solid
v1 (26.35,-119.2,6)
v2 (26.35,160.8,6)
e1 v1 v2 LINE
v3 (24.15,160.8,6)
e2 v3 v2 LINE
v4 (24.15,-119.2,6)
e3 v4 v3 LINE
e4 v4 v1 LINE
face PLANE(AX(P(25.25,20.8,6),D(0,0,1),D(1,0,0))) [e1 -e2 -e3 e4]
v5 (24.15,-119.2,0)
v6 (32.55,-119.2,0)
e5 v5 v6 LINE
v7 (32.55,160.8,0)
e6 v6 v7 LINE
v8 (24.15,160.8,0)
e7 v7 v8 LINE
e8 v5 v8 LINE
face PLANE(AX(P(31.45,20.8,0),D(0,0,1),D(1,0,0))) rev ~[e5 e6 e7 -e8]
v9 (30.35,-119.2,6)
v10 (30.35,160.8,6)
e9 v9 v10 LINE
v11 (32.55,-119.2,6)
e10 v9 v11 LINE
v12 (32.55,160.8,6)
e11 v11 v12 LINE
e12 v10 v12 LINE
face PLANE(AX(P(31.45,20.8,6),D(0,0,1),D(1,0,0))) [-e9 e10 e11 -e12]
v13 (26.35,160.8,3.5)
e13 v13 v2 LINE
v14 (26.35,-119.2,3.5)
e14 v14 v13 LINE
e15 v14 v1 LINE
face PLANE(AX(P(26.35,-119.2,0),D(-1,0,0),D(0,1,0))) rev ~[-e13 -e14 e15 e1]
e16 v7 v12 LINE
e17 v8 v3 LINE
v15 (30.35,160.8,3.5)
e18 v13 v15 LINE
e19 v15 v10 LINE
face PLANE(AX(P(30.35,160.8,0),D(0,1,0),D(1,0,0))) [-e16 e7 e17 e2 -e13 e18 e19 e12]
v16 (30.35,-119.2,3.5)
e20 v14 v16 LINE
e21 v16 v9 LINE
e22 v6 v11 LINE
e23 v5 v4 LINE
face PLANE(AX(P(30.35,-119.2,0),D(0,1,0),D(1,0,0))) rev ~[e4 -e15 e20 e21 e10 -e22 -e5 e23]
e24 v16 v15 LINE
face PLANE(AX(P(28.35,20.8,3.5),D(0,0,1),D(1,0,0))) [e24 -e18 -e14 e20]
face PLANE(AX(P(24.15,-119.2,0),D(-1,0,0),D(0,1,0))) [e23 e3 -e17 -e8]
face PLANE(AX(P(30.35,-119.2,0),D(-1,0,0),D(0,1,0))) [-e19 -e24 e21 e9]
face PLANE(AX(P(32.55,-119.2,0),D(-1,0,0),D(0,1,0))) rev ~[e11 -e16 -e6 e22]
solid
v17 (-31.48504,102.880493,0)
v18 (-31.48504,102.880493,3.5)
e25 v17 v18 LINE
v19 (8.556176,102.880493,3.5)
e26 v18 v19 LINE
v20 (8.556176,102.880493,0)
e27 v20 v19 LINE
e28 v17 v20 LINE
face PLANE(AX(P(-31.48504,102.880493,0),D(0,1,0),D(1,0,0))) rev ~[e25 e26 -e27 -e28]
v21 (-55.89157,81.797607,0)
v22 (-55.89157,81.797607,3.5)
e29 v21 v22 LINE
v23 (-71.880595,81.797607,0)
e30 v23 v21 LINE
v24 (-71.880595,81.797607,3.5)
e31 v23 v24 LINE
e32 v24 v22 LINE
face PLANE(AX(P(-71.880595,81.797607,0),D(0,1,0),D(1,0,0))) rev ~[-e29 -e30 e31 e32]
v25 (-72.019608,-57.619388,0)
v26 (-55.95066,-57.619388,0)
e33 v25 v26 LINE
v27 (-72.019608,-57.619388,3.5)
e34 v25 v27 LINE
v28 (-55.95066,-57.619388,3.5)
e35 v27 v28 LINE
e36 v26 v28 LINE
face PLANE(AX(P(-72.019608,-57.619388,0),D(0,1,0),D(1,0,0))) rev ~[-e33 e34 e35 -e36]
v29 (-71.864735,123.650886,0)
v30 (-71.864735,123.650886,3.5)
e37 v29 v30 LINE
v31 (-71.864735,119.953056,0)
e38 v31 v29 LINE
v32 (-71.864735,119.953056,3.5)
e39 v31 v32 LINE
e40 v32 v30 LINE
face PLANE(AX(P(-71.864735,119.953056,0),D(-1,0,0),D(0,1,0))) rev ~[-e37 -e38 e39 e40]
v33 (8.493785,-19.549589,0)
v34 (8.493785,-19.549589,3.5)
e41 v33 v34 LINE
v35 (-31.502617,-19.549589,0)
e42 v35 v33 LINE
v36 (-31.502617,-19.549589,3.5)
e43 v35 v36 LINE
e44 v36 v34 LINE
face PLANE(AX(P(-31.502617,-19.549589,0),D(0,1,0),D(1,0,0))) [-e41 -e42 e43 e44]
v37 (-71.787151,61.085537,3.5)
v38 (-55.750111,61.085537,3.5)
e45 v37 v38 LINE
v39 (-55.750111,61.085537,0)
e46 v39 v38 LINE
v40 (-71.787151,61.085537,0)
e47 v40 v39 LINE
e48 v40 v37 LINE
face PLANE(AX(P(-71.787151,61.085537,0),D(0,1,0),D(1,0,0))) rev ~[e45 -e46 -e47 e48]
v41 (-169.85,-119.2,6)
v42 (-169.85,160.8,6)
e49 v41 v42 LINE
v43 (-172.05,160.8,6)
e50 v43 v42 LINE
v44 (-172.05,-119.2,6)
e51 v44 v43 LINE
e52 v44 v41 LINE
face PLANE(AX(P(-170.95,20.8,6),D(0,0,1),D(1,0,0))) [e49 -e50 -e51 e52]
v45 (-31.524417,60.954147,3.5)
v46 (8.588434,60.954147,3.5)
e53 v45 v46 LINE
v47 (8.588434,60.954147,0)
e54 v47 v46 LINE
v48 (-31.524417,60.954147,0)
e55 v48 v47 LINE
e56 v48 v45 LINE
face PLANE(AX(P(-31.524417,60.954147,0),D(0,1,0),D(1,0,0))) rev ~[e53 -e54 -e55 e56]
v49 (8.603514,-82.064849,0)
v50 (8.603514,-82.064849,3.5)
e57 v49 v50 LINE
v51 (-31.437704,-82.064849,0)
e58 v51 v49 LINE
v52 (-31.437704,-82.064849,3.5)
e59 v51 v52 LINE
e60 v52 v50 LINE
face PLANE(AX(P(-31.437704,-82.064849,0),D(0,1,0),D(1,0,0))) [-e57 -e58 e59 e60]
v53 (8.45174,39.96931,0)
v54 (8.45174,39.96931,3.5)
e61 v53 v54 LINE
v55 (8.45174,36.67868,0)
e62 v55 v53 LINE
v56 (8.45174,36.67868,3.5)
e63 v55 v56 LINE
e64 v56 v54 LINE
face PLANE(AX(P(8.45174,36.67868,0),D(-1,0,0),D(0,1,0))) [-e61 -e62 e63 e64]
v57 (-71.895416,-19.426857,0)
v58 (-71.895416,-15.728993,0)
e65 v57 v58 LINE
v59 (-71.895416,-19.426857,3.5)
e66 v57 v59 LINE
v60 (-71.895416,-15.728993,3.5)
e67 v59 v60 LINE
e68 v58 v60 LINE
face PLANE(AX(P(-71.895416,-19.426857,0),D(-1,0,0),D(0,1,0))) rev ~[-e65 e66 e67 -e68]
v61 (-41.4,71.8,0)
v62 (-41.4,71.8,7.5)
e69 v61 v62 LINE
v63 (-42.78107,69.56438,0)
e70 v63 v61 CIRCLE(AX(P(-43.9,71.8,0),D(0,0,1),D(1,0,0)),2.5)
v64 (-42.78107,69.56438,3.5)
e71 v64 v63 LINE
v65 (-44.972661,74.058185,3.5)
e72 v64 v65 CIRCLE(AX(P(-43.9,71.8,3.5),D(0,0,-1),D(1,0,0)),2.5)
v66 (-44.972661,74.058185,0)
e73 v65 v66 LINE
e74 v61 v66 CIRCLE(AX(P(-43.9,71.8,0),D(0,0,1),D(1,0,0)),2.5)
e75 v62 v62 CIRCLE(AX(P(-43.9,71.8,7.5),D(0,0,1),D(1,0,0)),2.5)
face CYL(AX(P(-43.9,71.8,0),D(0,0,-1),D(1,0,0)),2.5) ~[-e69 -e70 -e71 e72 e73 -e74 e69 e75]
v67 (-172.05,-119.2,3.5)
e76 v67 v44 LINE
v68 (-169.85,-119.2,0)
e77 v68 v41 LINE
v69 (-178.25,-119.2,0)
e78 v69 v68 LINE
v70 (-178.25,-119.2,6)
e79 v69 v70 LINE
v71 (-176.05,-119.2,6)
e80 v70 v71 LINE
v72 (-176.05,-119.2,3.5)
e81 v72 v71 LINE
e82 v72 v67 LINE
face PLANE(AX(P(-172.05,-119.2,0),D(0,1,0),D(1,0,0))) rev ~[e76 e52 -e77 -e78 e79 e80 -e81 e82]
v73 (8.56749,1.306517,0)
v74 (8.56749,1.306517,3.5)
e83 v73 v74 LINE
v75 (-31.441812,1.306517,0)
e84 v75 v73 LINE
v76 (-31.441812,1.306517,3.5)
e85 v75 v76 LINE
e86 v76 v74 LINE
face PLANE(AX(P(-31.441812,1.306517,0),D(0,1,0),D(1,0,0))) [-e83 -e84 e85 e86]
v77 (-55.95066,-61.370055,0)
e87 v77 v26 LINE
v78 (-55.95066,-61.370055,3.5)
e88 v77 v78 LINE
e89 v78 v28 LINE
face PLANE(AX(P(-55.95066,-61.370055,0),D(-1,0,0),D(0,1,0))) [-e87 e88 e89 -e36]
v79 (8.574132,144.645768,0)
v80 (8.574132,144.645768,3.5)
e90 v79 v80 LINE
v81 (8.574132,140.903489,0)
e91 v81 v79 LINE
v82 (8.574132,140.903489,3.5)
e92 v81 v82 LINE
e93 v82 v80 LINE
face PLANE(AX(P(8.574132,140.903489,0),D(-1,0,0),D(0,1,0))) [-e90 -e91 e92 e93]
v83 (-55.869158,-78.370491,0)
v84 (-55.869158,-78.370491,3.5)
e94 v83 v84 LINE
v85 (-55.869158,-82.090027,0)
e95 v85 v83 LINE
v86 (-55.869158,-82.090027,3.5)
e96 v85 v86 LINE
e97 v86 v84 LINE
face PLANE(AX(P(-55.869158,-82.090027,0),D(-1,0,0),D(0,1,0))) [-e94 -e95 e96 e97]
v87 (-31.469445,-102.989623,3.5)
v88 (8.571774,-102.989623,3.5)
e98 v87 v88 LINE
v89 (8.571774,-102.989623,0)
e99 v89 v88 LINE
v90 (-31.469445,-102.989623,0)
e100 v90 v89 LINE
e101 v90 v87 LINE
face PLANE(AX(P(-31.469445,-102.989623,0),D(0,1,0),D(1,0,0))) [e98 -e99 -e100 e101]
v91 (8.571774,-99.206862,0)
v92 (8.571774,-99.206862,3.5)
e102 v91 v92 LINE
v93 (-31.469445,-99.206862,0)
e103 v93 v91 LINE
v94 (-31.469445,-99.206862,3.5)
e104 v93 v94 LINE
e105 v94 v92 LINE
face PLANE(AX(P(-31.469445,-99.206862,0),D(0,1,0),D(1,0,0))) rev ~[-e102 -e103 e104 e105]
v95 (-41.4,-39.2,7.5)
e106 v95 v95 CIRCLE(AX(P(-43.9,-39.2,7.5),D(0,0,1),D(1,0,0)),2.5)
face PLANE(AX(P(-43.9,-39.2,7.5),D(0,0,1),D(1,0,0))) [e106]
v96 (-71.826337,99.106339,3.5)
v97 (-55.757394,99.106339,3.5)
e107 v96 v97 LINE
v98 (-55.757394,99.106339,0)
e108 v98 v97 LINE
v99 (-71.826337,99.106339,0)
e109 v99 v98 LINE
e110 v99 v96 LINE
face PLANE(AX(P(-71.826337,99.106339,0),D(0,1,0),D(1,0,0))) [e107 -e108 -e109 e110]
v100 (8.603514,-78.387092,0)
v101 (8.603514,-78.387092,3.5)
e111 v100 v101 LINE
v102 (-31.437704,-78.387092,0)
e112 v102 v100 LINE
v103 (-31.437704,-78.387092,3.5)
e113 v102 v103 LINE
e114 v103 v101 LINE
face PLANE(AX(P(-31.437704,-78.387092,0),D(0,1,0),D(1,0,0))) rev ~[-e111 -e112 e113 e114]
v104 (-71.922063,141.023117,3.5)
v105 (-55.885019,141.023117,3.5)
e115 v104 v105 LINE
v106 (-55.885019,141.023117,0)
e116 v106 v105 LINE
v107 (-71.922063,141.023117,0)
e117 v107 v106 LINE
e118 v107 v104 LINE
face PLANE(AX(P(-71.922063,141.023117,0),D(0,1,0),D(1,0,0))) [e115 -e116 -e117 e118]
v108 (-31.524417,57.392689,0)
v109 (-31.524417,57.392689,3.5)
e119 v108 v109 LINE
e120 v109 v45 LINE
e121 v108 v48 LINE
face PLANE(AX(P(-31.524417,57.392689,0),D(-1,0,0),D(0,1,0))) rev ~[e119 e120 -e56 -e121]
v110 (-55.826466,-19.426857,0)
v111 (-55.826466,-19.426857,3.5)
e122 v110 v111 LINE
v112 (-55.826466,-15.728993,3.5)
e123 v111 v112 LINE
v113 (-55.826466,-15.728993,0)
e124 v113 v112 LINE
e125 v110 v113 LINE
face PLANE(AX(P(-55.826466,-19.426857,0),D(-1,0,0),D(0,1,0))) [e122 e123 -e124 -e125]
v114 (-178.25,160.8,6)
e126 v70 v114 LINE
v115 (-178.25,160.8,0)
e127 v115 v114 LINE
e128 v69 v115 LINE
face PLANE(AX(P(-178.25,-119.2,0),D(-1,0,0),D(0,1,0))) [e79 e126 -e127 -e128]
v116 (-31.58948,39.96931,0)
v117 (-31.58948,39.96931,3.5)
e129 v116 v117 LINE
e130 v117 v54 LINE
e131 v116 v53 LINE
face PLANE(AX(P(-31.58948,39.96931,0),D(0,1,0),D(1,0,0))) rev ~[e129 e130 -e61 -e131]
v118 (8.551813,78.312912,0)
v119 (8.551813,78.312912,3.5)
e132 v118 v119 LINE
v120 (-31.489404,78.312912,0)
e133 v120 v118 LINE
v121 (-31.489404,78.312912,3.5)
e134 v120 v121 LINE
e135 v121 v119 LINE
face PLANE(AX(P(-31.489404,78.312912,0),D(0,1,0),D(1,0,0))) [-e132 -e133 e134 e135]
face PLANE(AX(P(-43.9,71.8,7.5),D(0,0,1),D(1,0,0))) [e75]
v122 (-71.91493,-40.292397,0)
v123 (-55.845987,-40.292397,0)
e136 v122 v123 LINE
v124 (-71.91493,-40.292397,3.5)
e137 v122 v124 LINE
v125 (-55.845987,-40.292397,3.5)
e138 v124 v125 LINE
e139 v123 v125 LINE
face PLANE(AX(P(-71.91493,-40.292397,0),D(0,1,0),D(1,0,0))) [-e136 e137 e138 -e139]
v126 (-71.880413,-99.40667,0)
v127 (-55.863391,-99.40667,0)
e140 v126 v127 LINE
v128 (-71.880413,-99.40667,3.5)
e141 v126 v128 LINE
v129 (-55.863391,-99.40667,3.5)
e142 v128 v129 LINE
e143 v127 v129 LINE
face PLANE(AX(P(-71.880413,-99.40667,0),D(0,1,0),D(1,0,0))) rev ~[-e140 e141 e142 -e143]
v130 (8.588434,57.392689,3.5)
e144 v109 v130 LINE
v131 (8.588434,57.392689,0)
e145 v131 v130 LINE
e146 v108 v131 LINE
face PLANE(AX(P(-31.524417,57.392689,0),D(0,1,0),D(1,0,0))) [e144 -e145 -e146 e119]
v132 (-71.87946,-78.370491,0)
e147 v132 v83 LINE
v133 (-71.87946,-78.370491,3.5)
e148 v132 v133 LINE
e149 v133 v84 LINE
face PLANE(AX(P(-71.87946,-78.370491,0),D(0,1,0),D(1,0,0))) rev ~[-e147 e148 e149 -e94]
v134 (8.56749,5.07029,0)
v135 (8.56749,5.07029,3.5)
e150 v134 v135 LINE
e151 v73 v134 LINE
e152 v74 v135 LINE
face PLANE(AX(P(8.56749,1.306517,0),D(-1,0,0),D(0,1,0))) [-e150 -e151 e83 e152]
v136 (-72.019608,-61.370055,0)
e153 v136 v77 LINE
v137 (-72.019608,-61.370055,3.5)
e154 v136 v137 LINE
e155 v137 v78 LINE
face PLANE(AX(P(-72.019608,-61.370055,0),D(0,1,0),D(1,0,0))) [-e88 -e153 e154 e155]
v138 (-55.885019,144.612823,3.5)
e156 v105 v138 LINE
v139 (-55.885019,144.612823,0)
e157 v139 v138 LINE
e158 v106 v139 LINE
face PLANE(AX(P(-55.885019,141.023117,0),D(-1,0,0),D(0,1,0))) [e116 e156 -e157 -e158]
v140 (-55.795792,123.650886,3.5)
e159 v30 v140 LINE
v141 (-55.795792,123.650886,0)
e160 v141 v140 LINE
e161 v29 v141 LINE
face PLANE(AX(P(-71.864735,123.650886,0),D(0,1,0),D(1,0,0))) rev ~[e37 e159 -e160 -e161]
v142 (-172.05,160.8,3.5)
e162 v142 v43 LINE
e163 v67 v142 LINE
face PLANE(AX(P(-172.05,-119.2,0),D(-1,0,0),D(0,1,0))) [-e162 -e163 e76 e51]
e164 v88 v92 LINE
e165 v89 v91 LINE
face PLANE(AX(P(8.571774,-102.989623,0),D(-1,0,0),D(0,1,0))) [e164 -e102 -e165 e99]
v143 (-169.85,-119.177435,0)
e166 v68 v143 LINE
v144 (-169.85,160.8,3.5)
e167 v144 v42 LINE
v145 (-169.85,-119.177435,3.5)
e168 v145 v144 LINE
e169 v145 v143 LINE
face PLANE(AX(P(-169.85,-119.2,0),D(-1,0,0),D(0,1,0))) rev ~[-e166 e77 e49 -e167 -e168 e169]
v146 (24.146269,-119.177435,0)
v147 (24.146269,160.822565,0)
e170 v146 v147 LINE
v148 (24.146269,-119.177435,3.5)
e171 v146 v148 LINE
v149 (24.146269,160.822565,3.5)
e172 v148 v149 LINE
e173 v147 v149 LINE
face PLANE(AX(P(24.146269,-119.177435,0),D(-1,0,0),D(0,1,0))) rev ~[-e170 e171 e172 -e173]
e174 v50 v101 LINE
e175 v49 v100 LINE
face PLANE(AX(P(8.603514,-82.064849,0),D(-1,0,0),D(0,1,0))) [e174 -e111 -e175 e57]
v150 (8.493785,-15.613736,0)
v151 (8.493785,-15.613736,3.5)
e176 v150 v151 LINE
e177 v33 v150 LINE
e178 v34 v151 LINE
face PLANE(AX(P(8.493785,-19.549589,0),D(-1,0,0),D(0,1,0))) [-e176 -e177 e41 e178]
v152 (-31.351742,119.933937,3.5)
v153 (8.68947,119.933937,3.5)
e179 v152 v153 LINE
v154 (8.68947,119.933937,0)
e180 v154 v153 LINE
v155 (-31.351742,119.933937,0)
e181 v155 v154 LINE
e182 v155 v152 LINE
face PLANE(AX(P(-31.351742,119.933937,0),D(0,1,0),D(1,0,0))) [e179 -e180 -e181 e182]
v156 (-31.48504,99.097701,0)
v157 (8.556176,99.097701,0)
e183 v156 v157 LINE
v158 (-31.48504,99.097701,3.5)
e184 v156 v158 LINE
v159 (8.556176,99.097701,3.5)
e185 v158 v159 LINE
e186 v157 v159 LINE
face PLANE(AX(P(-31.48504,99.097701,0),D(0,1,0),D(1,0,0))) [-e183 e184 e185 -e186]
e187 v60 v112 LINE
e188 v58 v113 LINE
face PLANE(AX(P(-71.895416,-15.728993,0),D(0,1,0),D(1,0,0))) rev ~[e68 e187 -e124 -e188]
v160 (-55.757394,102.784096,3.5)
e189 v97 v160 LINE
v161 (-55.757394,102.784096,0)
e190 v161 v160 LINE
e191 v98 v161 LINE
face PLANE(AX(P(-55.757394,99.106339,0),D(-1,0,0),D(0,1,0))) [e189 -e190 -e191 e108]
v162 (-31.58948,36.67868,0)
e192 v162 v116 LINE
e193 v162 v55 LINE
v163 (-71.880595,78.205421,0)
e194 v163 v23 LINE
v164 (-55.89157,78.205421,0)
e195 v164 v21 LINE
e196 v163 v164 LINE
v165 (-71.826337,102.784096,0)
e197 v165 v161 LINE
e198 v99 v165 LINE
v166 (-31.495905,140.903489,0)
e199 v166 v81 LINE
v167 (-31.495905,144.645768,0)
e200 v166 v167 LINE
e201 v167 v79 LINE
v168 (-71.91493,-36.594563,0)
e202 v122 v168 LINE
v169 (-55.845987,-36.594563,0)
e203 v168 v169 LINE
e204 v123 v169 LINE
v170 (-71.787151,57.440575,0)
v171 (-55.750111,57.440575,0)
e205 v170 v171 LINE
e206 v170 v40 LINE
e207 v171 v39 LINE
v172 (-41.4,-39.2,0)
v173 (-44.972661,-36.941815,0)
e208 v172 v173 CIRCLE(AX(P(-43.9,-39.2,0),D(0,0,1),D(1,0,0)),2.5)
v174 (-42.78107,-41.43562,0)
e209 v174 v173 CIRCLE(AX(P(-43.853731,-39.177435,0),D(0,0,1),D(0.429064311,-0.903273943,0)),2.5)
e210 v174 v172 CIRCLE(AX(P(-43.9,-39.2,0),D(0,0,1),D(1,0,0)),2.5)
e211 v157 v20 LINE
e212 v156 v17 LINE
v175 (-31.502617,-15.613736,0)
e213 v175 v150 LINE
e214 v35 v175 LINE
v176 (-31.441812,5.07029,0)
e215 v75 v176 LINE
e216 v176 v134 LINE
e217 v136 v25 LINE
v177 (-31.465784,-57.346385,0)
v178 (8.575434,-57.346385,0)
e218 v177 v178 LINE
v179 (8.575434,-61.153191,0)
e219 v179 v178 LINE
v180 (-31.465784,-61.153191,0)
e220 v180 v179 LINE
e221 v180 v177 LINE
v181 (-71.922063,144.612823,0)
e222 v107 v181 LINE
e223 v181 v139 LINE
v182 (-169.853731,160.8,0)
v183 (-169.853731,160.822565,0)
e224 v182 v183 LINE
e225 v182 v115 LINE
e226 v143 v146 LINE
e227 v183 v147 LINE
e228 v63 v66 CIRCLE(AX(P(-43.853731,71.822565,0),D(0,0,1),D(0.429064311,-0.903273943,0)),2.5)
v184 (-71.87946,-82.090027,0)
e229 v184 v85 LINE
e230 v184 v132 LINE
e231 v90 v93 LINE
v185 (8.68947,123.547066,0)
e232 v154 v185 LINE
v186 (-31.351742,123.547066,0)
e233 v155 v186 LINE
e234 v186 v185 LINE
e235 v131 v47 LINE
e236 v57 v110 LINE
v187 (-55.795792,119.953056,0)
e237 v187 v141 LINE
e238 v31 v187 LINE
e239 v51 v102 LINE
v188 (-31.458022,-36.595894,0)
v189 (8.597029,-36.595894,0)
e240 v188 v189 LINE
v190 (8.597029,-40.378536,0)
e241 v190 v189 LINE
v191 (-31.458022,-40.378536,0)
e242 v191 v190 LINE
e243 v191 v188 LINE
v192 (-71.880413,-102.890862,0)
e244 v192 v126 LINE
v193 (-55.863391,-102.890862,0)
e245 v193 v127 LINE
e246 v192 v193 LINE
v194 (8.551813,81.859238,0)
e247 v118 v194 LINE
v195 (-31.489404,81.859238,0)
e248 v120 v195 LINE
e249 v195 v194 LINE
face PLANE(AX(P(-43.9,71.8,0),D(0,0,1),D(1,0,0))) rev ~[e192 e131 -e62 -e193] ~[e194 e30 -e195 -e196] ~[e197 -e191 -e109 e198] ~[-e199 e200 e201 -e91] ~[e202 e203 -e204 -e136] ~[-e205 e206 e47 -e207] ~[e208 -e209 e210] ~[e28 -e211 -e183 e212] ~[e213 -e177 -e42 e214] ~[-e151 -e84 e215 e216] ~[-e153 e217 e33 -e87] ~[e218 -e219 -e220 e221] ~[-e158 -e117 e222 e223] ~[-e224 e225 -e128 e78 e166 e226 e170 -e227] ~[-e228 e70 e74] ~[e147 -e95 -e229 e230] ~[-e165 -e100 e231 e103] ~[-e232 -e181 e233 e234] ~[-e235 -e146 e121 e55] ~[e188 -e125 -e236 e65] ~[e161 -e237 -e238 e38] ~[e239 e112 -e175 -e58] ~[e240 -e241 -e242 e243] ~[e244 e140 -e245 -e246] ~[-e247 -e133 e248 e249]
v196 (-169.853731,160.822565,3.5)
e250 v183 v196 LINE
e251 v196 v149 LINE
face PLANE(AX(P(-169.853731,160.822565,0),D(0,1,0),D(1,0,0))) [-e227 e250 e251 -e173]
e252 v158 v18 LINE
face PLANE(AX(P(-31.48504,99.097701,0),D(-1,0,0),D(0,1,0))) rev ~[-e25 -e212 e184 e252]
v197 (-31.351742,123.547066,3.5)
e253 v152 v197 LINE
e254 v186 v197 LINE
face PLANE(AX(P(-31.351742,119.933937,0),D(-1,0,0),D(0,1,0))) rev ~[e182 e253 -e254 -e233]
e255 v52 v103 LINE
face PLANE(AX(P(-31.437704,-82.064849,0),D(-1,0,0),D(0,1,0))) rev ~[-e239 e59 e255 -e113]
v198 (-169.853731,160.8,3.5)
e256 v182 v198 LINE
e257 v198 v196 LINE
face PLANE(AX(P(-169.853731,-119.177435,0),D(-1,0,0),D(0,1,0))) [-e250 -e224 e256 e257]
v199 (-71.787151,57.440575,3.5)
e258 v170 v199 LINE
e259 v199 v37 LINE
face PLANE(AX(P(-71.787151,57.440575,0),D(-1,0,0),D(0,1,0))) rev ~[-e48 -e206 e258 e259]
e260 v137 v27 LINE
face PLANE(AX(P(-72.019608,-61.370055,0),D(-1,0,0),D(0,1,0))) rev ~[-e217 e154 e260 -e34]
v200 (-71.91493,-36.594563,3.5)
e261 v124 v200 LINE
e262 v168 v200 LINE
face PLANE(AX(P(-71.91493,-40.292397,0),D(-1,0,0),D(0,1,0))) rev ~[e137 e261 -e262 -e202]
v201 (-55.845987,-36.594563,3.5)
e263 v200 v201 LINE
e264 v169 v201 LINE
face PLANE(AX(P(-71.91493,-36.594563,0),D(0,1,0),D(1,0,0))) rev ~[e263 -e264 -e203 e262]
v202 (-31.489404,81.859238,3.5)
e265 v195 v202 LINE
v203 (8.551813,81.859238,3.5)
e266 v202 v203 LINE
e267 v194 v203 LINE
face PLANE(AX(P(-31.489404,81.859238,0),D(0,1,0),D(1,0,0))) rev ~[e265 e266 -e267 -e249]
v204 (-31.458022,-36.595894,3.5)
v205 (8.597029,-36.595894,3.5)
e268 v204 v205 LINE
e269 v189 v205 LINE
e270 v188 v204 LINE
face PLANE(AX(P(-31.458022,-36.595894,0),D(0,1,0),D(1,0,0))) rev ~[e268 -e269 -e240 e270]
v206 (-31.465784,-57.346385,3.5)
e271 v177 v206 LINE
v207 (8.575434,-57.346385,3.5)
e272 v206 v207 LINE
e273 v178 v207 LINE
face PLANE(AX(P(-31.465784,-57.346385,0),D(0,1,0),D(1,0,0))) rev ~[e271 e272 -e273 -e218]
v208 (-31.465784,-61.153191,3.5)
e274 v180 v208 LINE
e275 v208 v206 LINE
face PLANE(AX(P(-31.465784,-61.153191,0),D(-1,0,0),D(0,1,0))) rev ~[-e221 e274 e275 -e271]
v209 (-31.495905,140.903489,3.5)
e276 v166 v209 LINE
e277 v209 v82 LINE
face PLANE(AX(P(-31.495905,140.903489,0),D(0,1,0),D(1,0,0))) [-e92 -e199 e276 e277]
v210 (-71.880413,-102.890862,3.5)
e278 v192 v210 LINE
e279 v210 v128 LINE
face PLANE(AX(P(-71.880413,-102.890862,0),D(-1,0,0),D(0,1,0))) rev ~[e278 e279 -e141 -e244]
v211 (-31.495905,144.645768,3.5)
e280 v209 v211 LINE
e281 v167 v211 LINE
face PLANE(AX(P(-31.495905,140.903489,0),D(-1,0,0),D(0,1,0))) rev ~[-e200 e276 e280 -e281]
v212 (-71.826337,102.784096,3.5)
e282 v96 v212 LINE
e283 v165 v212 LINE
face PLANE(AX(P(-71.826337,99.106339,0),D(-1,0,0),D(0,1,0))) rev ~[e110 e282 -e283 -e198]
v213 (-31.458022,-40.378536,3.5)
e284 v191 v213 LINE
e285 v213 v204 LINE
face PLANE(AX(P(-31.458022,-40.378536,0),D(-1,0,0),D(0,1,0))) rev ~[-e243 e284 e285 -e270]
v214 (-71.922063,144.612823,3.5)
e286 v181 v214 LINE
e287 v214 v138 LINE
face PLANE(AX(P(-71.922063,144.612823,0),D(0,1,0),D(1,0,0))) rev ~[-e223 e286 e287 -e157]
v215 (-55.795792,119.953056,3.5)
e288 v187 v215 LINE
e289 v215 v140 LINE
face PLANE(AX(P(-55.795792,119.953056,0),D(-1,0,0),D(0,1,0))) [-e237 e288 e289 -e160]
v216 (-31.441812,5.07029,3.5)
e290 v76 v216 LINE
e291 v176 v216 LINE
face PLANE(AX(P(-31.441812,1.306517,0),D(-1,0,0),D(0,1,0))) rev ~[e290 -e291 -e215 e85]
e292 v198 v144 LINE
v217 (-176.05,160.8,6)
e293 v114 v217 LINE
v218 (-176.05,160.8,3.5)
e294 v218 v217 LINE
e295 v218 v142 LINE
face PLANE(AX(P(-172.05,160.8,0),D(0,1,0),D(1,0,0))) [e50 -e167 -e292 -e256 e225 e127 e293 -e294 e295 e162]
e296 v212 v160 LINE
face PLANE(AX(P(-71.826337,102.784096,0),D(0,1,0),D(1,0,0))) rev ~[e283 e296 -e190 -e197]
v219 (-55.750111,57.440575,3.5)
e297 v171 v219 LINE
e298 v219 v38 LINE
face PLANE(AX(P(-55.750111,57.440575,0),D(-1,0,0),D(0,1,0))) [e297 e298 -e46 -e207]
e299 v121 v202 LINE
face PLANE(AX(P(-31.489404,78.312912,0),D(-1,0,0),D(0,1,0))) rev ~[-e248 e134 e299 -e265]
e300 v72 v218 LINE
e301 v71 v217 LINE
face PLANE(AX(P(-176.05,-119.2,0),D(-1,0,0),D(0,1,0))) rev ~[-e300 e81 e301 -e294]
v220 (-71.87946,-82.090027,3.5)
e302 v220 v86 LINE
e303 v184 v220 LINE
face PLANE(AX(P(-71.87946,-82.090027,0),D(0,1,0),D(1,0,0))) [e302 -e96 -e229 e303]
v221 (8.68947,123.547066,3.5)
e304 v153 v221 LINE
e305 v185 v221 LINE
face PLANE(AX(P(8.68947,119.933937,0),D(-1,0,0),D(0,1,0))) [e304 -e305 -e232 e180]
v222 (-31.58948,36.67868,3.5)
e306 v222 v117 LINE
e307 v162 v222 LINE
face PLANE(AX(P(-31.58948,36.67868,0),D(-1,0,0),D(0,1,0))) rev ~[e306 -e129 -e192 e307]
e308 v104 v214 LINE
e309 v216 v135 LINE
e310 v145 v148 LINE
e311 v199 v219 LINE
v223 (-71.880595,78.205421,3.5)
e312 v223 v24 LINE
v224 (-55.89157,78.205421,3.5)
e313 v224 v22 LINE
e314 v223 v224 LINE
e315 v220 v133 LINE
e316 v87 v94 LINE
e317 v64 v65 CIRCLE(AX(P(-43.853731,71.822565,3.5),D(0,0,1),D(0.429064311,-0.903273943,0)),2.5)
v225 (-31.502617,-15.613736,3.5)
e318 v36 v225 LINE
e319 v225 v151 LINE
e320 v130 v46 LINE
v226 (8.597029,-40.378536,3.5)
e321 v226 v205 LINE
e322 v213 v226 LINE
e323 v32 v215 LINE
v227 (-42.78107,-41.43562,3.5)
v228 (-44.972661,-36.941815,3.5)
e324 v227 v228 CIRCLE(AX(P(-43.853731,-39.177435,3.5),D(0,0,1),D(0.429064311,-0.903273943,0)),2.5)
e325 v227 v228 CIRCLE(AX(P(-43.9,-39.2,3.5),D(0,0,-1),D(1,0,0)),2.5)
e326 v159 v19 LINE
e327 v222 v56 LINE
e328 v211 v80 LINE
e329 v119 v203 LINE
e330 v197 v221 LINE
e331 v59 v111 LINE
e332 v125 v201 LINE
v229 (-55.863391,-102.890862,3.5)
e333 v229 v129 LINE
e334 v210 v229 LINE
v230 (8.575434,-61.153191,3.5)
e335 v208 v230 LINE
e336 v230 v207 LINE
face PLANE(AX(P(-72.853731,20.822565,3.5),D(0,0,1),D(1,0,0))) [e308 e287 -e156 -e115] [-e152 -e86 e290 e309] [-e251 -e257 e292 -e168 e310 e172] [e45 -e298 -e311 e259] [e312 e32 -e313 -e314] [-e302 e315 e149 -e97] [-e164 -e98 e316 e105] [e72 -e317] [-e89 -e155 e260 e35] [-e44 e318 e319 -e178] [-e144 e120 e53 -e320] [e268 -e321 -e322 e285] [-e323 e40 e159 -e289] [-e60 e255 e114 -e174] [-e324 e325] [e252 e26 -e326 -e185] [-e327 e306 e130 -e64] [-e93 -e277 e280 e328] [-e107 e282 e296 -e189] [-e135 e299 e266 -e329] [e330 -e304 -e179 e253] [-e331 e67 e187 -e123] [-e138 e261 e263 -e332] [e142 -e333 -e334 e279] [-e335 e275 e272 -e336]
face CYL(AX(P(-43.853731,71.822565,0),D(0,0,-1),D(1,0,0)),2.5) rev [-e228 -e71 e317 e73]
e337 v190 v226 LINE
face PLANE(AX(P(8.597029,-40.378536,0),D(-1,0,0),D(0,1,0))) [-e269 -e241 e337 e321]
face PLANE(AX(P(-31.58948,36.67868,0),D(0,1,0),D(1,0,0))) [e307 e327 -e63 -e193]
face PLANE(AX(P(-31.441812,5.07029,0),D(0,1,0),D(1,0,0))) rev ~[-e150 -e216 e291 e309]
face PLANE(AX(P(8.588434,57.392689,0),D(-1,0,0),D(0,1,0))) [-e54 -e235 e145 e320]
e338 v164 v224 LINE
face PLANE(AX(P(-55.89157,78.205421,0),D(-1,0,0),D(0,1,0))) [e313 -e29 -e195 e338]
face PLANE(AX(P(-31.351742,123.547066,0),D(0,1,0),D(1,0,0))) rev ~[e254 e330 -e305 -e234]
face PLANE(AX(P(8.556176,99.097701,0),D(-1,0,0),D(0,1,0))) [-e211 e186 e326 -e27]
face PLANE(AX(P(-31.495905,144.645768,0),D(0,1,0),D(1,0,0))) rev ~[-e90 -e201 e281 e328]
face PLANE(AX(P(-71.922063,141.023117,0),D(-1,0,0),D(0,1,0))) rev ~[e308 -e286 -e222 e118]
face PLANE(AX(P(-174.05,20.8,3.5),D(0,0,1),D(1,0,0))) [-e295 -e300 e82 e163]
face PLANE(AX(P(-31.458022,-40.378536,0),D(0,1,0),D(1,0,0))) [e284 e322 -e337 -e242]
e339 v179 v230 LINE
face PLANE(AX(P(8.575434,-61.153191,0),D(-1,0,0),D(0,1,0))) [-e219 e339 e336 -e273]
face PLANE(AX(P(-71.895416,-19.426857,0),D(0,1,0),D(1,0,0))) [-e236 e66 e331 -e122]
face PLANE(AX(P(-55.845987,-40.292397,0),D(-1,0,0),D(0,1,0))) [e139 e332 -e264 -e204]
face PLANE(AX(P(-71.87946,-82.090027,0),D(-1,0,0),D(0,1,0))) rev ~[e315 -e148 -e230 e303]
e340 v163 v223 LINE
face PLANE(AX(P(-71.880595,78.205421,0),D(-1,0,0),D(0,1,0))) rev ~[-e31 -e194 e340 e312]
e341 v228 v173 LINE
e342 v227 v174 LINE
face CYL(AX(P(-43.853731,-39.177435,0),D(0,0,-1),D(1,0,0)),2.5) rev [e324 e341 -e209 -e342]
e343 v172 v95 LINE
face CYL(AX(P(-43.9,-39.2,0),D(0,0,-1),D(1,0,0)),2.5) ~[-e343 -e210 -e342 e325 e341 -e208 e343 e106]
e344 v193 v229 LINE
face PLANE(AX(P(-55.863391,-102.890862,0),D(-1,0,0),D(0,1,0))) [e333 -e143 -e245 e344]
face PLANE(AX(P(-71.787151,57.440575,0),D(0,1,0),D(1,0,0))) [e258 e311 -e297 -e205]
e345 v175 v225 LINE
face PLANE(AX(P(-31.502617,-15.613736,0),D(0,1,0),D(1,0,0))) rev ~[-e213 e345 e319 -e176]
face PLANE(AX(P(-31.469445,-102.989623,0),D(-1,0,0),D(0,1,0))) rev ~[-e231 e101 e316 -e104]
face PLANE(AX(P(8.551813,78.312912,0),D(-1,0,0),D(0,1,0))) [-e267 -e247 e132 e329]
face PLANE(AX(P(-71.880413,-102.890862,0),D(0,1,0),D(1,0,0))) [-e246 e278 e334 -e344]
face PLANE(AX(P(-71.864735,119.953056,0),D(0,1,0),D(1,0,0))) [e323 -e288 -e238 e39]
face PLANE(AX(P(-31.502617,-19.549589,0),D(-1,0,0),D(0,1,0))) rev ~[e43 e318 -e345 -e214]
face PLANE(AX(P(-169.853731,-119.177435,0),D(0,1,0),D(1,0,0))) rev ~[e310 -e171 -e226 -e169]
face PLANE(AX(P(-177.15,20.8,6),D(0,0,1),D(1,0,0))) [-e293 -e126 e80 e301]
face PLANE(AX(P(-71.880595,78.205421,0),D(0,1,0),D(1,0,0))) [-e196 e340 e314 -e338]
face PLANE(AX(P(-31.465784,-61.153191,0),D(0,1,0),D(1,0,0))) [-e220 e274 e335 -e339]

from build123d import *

# Parameters (mm, degrees)
CYLINDER_R        = 2.5
CYLINDER_DEPTH    = 7.5
CYLINDER001_R     = 2.5
CYLINDER001_DEPTH = 7.5
SKETCH001_W       = 194
SKETCH001_H       = 280
SKETCH001_R       = 2.5
SKETCH001_W_2     = 40.070037
SKETCH001_H_2     = 3.742279
SKETCH001_W_3     = 40.041212
SKETCH001_H_3     = 3.613129
SKETCH001_W_4     = 40.041216
SKETCH001_H_4     = 3.782791
SKETCH001_W_5     = 40.041217
SKETCH001_H_5     = 3.546326
SKETCH001_W_6     = 40.112851
SKETCH001_H_6     = 3.561458
SKETCH001_W_7     = 40.04122
SKETCH001_H_7     = 3.290631
SKETCH001_W_8     = 40.009301
SKETCH001_H_8     = 3.763773
SKETCH001_W_9     = 39.996402
SKETCH001_H_9     = 3.935853
SKETCH001_W_10    = 40.055051
SKETCH001_H_10    = 3.782642
SKETCH001_H_11    = 3.806805
SKETCH001_W_11    = 40.041219
SKETCH001_H_12    = 3.677757
SKETCH001_H_13    = 3.782761
SKETCH001_W_12    = 16.037044
SKETCH001_H_14    = 3.589706
SKETCH001_W_13    = 16.068943
SKETCH001_H_15    = 3.697831
SKETCH001_W_14    = 15.989025
SKETCH001_H_16    = 3.592186
SKETCH001_W_15    = 16.03704
SKETCH001_H_17    = 3.644962
SKETCH001_W_16    = 16.06895
SKETCH001_H_18    = 3.697864
SKETCH001_H_19    = 3.697834
SKETCH001_W_17    = 16.068947
SKETCH001_H_20    = 3.750667
SKETCH001_W_18    = 16.010303
SKETCH001_H_21    = 3.719536
SKETCH001_W_19    = 16.017021
SKETCH001_H_22    = 3.484192
EXTRUDE001_DEPTH  = 3.5
BOX016_W          = 4
BOX016_H          = 280
BOX016_DEPTH      = 3.5
BOX018_W          = 2.2
BOX018_H          = 280
BOX018_DEPTH      = 6
BOX017_W          = 2.2
BOX017_H          = 280
BOX017_DEPTH      = 6
BOX019_W          = 4
BOX019_H          = 280
BOX019_DEPTH      = 3.5
BOX021_W          = 2.2
BOX021_H          = 280
BOX021_DEPTH      = 6
BOX020_W          = 2.2
BOX020_H          = 280
BOX020_DEPTH      = 6


with BuildPart() as cylinder:
    # Cylinder → Cylinder (new body)
    with BuildSketch(Plane(origin=(-43.9, -39.2, 0), x_dir=(1, 0, 0), z_dir=(0, 0, 1))):
        Circle(CYLINDER_R)
    extrude(amount=CYLINDER_DEPTH)


with BuildPart() as cylinder001:
    # Cylinder001 → Cylinder001 (new body)
    with BuildSketch(Plane(origin=(-43.9, 71.8, 0), x_dir=(1, 0, 0), z_dir=(0, 0, 1))):
        Circle(CYLINDER001_R)
    extrude(amount=CYLINDER001_DEPTH)


with BuildPart() as plate:
    # Sketch001 → Extrude001 (new body)
    with BuildSketch(Plane.XY):
        with Locations((-72.853731, 20.822565)):
            Rectangle(SKETCH001_W, SKETCH001_H)
        with Locations((-43.853731, 71.822565)):
            Circle(SKETCH001_R, mode=Mode.SUBTRACT)
        with Locations((-43.853731, -39.177435)):
            Circle(SKETCH001_R, mode=Mode.SUBTRACT)
        with Locations((-11.460887, 142.774628)):
            Rectangle(SKETCH001_W_2, SKETCH001_H_2, mode=Mode.SUBTRACT)
        with Locations((-11.331136, 121.740501)):
            Rectangle(SKETCH001_W_3, SKETCH001_H_3, mode=Mode.SUBTRACT)
        with Locations((-11.464432, 100.989097)):
            Rectangle(SKETCH001_W_4, SKETCH001_H_4, mode=Mode.SUBTRACT)
        with Locations((-11.468796, 80.086075)):
            Rectangle(SKETCH001_W_5, SKETCH001_H_5, mode=Mode.SUBTRACT)
        with Locations((-11.467992, 59.173418)):
            Rectangle(SKETCH001_W_6, SKETCH001_H_6, mode=Mode.SUBTRACT)
        with Locations((-11.56887, 38.323995)):
            Rectangle(SKETCH001_W_7, SKETCH001_H_7, mode=Mode.SUBTRACT)
        with Locations((-11.437161, 3.188404)):
            Rectangle(SKETCH001_W_8, SKETCH001_H_8, mode=Mode.SUBTRACT)
        with Locations((-11.504416, -17.581663)):
            Rectangle(SKETCH001_W_9, SKETCH001_H_9, mode=Mode.SUBTRACT)
        with Locations((-11.430497, -38.487215)):
            Rectangle(SKETCH001_W_10, SKETCH001_H_10, mode=Mode.SUBTRACT)
        with Locations((-11.445175, -59.249788)):
            Rectangle(SKETCH001_W_5, SKETCH001_H_11, mode=Mode.SUBTRACT)
        with Locations((-11.417095, -80.225971)):
            Rectangle(SKETCH001_W_11, SKETCH001_H_12, mode=Mode.SUBTRACT)
        with Locations((-11.448836, -101.098243)):
            Rectangle(SKETCH001_W_11, SKETCH001_H_13, mode=Mode.SUBTRACT)
        with Locations((-63.903541, 142.81797)):
            Rectangle(SKETCH001_W_12, SKETCH001_H_14, mode=Mode.SUBTRACT)
        with Locations((-63.830264, 121.801971)):
            Rectangle(SKETCH001_W_13, SKETCH001_H_15, mode=Mode.SUBTRACT)
        with Locations((-63.791866, 100.945217)):
            Rectangle(SKETCH001_W_13, SKETCH001_H_12, mode=Mode.SUBTRACT)
        with Locations((-63.886082, 80.001514)):
            Rectangle(SKETCH001_W_14, SKETCH001_H_16, mode=Mode.SUBTRACT)
        with Locations((-63.768631, 59.263056)):
            Rectangle(SKETCH001_W_15, SKETCH001_H_17, mode=Mode.SUBTRACT)
        with Locations((-63.860941, -17.577925)):
            Rectangle(SKETCH001_W_16, SKETCH001_H_18, mode=Mode.SUBTRACT)
        with Locations((-63.880459, -38.44348)):
            Rectangle(SKETCH001_W_13, SKETCH001_H_19, mode=Mode.SUBTRACT)
        with Locations((-63.985134, -59.494722)):
            Rectangle(SKETCH001_W_17, SKETCH001_H_20, mode=Mode.SUBTRACT)
        with Locations((-63.874309, -80.230259)):
            Rectangle(SKETCH001_W_18, SKETCH001_H_21, mode=Mode.SUBTRACT)
        with Locations((-63.871902, -101.148766)):
            Rectangle(SKETCH001_W_19, SKETCH001_H_22, mode=Mode.SUBTRACT)
    extrude(amount=EXTRUDE001_DEPTH)

    # Fusion: union Cylinder, Cylinder001
    add(cylinder.part)
    add(cylinder001.part)


with BuildPart() as cube016:
    # Box016 → Box016 (new body)
    with BuildSketch(Plane(origin=(26.35, -119.2, 0), x_dir=(1, 0, 0), z_dir=(0, 0, 1))):
        with Locations((2, 140)):
            Rectangle(BOX016_W, BOX016_H)
    extrude(amount=BOX016_DEPTH)


with BuildPart() as cube018:
    # Box018 → Box018 (new body)
    with BuildSketch(Plane(origin=(30.35, -119.2, 0), x_dir=(1, 0, 0), z_dir=(0, 0, 1))):
        with Locations((1.1, 140)):
            Rectangle(BOX018_W, BOX018_H)
    extrude(amount=BOX018_DEPTH)


with BuildPart() as fusion001:
    # Box017 → Box017 (new body)
    with BuildSketch(Plane(origin=(24.15, -119.2, 0), x_dir=(1, 0, 0), z_dir=(0, 0, 1))):
        with Locations((1.1, 140)):
            Rectangle(BOX017_W, BOX017_H)
    extrude(amount=BOX017_DEPTH)

    # Fusion001: union Cube016, Cube018
    add(cube016.part)
    add(cube018.part)


with BuildPart() as cube019:
    # Box019 → Box019 (new body)
    with BuildSketch(Plane(origin=(26.35, -119.2, 0), x_dir=(1, 0, 0), z_dir=(0, 0, 1))):
        with Locations((2, 140)):
            Rectangle(BOX019_W, BOX019_H)
    extrude(amount=BOX019_DEPTH)


with BuildPart() as cube021:
    # Box021 → Box021 (new body)
    with BuildSketch(Plane(origin=(30.35, -119.2, 0), x_dir=(1, 0, 0), z_dir=(0, 0, 1))):
        with Locations((1.1, 140)):
            Rectangle(BOX021_W, BOX021_H)
    extrude(amount=BOX021_DEPTH)


with BuildPart() as plate001:
    # Box020 → Box020 (new body)
    with BuildSketch(Plane(origin=(24.15, -119.2, 0), x_dir=(1, 0, 0), z_dir=(0, 0, 1))):
        with Locations((1.1, 140)):
            Rectangle(BOX020_W, BOX020_H)
    extrude(amount=BOX020_DEPTH)

    # Fusion002: union Cube019, Cube021
    add(cube019.part)
    add(cube021.part)


with BuildPart() as plate001_1:
    # Fusion002 placement: moved
    add(plate001.part.moved(Location((-202.4, 0, 0))))

    # Fusion027: union plate, Fusion001
    add(plate.part)
    add(fusion001.part)


solid = plate001_1.part
